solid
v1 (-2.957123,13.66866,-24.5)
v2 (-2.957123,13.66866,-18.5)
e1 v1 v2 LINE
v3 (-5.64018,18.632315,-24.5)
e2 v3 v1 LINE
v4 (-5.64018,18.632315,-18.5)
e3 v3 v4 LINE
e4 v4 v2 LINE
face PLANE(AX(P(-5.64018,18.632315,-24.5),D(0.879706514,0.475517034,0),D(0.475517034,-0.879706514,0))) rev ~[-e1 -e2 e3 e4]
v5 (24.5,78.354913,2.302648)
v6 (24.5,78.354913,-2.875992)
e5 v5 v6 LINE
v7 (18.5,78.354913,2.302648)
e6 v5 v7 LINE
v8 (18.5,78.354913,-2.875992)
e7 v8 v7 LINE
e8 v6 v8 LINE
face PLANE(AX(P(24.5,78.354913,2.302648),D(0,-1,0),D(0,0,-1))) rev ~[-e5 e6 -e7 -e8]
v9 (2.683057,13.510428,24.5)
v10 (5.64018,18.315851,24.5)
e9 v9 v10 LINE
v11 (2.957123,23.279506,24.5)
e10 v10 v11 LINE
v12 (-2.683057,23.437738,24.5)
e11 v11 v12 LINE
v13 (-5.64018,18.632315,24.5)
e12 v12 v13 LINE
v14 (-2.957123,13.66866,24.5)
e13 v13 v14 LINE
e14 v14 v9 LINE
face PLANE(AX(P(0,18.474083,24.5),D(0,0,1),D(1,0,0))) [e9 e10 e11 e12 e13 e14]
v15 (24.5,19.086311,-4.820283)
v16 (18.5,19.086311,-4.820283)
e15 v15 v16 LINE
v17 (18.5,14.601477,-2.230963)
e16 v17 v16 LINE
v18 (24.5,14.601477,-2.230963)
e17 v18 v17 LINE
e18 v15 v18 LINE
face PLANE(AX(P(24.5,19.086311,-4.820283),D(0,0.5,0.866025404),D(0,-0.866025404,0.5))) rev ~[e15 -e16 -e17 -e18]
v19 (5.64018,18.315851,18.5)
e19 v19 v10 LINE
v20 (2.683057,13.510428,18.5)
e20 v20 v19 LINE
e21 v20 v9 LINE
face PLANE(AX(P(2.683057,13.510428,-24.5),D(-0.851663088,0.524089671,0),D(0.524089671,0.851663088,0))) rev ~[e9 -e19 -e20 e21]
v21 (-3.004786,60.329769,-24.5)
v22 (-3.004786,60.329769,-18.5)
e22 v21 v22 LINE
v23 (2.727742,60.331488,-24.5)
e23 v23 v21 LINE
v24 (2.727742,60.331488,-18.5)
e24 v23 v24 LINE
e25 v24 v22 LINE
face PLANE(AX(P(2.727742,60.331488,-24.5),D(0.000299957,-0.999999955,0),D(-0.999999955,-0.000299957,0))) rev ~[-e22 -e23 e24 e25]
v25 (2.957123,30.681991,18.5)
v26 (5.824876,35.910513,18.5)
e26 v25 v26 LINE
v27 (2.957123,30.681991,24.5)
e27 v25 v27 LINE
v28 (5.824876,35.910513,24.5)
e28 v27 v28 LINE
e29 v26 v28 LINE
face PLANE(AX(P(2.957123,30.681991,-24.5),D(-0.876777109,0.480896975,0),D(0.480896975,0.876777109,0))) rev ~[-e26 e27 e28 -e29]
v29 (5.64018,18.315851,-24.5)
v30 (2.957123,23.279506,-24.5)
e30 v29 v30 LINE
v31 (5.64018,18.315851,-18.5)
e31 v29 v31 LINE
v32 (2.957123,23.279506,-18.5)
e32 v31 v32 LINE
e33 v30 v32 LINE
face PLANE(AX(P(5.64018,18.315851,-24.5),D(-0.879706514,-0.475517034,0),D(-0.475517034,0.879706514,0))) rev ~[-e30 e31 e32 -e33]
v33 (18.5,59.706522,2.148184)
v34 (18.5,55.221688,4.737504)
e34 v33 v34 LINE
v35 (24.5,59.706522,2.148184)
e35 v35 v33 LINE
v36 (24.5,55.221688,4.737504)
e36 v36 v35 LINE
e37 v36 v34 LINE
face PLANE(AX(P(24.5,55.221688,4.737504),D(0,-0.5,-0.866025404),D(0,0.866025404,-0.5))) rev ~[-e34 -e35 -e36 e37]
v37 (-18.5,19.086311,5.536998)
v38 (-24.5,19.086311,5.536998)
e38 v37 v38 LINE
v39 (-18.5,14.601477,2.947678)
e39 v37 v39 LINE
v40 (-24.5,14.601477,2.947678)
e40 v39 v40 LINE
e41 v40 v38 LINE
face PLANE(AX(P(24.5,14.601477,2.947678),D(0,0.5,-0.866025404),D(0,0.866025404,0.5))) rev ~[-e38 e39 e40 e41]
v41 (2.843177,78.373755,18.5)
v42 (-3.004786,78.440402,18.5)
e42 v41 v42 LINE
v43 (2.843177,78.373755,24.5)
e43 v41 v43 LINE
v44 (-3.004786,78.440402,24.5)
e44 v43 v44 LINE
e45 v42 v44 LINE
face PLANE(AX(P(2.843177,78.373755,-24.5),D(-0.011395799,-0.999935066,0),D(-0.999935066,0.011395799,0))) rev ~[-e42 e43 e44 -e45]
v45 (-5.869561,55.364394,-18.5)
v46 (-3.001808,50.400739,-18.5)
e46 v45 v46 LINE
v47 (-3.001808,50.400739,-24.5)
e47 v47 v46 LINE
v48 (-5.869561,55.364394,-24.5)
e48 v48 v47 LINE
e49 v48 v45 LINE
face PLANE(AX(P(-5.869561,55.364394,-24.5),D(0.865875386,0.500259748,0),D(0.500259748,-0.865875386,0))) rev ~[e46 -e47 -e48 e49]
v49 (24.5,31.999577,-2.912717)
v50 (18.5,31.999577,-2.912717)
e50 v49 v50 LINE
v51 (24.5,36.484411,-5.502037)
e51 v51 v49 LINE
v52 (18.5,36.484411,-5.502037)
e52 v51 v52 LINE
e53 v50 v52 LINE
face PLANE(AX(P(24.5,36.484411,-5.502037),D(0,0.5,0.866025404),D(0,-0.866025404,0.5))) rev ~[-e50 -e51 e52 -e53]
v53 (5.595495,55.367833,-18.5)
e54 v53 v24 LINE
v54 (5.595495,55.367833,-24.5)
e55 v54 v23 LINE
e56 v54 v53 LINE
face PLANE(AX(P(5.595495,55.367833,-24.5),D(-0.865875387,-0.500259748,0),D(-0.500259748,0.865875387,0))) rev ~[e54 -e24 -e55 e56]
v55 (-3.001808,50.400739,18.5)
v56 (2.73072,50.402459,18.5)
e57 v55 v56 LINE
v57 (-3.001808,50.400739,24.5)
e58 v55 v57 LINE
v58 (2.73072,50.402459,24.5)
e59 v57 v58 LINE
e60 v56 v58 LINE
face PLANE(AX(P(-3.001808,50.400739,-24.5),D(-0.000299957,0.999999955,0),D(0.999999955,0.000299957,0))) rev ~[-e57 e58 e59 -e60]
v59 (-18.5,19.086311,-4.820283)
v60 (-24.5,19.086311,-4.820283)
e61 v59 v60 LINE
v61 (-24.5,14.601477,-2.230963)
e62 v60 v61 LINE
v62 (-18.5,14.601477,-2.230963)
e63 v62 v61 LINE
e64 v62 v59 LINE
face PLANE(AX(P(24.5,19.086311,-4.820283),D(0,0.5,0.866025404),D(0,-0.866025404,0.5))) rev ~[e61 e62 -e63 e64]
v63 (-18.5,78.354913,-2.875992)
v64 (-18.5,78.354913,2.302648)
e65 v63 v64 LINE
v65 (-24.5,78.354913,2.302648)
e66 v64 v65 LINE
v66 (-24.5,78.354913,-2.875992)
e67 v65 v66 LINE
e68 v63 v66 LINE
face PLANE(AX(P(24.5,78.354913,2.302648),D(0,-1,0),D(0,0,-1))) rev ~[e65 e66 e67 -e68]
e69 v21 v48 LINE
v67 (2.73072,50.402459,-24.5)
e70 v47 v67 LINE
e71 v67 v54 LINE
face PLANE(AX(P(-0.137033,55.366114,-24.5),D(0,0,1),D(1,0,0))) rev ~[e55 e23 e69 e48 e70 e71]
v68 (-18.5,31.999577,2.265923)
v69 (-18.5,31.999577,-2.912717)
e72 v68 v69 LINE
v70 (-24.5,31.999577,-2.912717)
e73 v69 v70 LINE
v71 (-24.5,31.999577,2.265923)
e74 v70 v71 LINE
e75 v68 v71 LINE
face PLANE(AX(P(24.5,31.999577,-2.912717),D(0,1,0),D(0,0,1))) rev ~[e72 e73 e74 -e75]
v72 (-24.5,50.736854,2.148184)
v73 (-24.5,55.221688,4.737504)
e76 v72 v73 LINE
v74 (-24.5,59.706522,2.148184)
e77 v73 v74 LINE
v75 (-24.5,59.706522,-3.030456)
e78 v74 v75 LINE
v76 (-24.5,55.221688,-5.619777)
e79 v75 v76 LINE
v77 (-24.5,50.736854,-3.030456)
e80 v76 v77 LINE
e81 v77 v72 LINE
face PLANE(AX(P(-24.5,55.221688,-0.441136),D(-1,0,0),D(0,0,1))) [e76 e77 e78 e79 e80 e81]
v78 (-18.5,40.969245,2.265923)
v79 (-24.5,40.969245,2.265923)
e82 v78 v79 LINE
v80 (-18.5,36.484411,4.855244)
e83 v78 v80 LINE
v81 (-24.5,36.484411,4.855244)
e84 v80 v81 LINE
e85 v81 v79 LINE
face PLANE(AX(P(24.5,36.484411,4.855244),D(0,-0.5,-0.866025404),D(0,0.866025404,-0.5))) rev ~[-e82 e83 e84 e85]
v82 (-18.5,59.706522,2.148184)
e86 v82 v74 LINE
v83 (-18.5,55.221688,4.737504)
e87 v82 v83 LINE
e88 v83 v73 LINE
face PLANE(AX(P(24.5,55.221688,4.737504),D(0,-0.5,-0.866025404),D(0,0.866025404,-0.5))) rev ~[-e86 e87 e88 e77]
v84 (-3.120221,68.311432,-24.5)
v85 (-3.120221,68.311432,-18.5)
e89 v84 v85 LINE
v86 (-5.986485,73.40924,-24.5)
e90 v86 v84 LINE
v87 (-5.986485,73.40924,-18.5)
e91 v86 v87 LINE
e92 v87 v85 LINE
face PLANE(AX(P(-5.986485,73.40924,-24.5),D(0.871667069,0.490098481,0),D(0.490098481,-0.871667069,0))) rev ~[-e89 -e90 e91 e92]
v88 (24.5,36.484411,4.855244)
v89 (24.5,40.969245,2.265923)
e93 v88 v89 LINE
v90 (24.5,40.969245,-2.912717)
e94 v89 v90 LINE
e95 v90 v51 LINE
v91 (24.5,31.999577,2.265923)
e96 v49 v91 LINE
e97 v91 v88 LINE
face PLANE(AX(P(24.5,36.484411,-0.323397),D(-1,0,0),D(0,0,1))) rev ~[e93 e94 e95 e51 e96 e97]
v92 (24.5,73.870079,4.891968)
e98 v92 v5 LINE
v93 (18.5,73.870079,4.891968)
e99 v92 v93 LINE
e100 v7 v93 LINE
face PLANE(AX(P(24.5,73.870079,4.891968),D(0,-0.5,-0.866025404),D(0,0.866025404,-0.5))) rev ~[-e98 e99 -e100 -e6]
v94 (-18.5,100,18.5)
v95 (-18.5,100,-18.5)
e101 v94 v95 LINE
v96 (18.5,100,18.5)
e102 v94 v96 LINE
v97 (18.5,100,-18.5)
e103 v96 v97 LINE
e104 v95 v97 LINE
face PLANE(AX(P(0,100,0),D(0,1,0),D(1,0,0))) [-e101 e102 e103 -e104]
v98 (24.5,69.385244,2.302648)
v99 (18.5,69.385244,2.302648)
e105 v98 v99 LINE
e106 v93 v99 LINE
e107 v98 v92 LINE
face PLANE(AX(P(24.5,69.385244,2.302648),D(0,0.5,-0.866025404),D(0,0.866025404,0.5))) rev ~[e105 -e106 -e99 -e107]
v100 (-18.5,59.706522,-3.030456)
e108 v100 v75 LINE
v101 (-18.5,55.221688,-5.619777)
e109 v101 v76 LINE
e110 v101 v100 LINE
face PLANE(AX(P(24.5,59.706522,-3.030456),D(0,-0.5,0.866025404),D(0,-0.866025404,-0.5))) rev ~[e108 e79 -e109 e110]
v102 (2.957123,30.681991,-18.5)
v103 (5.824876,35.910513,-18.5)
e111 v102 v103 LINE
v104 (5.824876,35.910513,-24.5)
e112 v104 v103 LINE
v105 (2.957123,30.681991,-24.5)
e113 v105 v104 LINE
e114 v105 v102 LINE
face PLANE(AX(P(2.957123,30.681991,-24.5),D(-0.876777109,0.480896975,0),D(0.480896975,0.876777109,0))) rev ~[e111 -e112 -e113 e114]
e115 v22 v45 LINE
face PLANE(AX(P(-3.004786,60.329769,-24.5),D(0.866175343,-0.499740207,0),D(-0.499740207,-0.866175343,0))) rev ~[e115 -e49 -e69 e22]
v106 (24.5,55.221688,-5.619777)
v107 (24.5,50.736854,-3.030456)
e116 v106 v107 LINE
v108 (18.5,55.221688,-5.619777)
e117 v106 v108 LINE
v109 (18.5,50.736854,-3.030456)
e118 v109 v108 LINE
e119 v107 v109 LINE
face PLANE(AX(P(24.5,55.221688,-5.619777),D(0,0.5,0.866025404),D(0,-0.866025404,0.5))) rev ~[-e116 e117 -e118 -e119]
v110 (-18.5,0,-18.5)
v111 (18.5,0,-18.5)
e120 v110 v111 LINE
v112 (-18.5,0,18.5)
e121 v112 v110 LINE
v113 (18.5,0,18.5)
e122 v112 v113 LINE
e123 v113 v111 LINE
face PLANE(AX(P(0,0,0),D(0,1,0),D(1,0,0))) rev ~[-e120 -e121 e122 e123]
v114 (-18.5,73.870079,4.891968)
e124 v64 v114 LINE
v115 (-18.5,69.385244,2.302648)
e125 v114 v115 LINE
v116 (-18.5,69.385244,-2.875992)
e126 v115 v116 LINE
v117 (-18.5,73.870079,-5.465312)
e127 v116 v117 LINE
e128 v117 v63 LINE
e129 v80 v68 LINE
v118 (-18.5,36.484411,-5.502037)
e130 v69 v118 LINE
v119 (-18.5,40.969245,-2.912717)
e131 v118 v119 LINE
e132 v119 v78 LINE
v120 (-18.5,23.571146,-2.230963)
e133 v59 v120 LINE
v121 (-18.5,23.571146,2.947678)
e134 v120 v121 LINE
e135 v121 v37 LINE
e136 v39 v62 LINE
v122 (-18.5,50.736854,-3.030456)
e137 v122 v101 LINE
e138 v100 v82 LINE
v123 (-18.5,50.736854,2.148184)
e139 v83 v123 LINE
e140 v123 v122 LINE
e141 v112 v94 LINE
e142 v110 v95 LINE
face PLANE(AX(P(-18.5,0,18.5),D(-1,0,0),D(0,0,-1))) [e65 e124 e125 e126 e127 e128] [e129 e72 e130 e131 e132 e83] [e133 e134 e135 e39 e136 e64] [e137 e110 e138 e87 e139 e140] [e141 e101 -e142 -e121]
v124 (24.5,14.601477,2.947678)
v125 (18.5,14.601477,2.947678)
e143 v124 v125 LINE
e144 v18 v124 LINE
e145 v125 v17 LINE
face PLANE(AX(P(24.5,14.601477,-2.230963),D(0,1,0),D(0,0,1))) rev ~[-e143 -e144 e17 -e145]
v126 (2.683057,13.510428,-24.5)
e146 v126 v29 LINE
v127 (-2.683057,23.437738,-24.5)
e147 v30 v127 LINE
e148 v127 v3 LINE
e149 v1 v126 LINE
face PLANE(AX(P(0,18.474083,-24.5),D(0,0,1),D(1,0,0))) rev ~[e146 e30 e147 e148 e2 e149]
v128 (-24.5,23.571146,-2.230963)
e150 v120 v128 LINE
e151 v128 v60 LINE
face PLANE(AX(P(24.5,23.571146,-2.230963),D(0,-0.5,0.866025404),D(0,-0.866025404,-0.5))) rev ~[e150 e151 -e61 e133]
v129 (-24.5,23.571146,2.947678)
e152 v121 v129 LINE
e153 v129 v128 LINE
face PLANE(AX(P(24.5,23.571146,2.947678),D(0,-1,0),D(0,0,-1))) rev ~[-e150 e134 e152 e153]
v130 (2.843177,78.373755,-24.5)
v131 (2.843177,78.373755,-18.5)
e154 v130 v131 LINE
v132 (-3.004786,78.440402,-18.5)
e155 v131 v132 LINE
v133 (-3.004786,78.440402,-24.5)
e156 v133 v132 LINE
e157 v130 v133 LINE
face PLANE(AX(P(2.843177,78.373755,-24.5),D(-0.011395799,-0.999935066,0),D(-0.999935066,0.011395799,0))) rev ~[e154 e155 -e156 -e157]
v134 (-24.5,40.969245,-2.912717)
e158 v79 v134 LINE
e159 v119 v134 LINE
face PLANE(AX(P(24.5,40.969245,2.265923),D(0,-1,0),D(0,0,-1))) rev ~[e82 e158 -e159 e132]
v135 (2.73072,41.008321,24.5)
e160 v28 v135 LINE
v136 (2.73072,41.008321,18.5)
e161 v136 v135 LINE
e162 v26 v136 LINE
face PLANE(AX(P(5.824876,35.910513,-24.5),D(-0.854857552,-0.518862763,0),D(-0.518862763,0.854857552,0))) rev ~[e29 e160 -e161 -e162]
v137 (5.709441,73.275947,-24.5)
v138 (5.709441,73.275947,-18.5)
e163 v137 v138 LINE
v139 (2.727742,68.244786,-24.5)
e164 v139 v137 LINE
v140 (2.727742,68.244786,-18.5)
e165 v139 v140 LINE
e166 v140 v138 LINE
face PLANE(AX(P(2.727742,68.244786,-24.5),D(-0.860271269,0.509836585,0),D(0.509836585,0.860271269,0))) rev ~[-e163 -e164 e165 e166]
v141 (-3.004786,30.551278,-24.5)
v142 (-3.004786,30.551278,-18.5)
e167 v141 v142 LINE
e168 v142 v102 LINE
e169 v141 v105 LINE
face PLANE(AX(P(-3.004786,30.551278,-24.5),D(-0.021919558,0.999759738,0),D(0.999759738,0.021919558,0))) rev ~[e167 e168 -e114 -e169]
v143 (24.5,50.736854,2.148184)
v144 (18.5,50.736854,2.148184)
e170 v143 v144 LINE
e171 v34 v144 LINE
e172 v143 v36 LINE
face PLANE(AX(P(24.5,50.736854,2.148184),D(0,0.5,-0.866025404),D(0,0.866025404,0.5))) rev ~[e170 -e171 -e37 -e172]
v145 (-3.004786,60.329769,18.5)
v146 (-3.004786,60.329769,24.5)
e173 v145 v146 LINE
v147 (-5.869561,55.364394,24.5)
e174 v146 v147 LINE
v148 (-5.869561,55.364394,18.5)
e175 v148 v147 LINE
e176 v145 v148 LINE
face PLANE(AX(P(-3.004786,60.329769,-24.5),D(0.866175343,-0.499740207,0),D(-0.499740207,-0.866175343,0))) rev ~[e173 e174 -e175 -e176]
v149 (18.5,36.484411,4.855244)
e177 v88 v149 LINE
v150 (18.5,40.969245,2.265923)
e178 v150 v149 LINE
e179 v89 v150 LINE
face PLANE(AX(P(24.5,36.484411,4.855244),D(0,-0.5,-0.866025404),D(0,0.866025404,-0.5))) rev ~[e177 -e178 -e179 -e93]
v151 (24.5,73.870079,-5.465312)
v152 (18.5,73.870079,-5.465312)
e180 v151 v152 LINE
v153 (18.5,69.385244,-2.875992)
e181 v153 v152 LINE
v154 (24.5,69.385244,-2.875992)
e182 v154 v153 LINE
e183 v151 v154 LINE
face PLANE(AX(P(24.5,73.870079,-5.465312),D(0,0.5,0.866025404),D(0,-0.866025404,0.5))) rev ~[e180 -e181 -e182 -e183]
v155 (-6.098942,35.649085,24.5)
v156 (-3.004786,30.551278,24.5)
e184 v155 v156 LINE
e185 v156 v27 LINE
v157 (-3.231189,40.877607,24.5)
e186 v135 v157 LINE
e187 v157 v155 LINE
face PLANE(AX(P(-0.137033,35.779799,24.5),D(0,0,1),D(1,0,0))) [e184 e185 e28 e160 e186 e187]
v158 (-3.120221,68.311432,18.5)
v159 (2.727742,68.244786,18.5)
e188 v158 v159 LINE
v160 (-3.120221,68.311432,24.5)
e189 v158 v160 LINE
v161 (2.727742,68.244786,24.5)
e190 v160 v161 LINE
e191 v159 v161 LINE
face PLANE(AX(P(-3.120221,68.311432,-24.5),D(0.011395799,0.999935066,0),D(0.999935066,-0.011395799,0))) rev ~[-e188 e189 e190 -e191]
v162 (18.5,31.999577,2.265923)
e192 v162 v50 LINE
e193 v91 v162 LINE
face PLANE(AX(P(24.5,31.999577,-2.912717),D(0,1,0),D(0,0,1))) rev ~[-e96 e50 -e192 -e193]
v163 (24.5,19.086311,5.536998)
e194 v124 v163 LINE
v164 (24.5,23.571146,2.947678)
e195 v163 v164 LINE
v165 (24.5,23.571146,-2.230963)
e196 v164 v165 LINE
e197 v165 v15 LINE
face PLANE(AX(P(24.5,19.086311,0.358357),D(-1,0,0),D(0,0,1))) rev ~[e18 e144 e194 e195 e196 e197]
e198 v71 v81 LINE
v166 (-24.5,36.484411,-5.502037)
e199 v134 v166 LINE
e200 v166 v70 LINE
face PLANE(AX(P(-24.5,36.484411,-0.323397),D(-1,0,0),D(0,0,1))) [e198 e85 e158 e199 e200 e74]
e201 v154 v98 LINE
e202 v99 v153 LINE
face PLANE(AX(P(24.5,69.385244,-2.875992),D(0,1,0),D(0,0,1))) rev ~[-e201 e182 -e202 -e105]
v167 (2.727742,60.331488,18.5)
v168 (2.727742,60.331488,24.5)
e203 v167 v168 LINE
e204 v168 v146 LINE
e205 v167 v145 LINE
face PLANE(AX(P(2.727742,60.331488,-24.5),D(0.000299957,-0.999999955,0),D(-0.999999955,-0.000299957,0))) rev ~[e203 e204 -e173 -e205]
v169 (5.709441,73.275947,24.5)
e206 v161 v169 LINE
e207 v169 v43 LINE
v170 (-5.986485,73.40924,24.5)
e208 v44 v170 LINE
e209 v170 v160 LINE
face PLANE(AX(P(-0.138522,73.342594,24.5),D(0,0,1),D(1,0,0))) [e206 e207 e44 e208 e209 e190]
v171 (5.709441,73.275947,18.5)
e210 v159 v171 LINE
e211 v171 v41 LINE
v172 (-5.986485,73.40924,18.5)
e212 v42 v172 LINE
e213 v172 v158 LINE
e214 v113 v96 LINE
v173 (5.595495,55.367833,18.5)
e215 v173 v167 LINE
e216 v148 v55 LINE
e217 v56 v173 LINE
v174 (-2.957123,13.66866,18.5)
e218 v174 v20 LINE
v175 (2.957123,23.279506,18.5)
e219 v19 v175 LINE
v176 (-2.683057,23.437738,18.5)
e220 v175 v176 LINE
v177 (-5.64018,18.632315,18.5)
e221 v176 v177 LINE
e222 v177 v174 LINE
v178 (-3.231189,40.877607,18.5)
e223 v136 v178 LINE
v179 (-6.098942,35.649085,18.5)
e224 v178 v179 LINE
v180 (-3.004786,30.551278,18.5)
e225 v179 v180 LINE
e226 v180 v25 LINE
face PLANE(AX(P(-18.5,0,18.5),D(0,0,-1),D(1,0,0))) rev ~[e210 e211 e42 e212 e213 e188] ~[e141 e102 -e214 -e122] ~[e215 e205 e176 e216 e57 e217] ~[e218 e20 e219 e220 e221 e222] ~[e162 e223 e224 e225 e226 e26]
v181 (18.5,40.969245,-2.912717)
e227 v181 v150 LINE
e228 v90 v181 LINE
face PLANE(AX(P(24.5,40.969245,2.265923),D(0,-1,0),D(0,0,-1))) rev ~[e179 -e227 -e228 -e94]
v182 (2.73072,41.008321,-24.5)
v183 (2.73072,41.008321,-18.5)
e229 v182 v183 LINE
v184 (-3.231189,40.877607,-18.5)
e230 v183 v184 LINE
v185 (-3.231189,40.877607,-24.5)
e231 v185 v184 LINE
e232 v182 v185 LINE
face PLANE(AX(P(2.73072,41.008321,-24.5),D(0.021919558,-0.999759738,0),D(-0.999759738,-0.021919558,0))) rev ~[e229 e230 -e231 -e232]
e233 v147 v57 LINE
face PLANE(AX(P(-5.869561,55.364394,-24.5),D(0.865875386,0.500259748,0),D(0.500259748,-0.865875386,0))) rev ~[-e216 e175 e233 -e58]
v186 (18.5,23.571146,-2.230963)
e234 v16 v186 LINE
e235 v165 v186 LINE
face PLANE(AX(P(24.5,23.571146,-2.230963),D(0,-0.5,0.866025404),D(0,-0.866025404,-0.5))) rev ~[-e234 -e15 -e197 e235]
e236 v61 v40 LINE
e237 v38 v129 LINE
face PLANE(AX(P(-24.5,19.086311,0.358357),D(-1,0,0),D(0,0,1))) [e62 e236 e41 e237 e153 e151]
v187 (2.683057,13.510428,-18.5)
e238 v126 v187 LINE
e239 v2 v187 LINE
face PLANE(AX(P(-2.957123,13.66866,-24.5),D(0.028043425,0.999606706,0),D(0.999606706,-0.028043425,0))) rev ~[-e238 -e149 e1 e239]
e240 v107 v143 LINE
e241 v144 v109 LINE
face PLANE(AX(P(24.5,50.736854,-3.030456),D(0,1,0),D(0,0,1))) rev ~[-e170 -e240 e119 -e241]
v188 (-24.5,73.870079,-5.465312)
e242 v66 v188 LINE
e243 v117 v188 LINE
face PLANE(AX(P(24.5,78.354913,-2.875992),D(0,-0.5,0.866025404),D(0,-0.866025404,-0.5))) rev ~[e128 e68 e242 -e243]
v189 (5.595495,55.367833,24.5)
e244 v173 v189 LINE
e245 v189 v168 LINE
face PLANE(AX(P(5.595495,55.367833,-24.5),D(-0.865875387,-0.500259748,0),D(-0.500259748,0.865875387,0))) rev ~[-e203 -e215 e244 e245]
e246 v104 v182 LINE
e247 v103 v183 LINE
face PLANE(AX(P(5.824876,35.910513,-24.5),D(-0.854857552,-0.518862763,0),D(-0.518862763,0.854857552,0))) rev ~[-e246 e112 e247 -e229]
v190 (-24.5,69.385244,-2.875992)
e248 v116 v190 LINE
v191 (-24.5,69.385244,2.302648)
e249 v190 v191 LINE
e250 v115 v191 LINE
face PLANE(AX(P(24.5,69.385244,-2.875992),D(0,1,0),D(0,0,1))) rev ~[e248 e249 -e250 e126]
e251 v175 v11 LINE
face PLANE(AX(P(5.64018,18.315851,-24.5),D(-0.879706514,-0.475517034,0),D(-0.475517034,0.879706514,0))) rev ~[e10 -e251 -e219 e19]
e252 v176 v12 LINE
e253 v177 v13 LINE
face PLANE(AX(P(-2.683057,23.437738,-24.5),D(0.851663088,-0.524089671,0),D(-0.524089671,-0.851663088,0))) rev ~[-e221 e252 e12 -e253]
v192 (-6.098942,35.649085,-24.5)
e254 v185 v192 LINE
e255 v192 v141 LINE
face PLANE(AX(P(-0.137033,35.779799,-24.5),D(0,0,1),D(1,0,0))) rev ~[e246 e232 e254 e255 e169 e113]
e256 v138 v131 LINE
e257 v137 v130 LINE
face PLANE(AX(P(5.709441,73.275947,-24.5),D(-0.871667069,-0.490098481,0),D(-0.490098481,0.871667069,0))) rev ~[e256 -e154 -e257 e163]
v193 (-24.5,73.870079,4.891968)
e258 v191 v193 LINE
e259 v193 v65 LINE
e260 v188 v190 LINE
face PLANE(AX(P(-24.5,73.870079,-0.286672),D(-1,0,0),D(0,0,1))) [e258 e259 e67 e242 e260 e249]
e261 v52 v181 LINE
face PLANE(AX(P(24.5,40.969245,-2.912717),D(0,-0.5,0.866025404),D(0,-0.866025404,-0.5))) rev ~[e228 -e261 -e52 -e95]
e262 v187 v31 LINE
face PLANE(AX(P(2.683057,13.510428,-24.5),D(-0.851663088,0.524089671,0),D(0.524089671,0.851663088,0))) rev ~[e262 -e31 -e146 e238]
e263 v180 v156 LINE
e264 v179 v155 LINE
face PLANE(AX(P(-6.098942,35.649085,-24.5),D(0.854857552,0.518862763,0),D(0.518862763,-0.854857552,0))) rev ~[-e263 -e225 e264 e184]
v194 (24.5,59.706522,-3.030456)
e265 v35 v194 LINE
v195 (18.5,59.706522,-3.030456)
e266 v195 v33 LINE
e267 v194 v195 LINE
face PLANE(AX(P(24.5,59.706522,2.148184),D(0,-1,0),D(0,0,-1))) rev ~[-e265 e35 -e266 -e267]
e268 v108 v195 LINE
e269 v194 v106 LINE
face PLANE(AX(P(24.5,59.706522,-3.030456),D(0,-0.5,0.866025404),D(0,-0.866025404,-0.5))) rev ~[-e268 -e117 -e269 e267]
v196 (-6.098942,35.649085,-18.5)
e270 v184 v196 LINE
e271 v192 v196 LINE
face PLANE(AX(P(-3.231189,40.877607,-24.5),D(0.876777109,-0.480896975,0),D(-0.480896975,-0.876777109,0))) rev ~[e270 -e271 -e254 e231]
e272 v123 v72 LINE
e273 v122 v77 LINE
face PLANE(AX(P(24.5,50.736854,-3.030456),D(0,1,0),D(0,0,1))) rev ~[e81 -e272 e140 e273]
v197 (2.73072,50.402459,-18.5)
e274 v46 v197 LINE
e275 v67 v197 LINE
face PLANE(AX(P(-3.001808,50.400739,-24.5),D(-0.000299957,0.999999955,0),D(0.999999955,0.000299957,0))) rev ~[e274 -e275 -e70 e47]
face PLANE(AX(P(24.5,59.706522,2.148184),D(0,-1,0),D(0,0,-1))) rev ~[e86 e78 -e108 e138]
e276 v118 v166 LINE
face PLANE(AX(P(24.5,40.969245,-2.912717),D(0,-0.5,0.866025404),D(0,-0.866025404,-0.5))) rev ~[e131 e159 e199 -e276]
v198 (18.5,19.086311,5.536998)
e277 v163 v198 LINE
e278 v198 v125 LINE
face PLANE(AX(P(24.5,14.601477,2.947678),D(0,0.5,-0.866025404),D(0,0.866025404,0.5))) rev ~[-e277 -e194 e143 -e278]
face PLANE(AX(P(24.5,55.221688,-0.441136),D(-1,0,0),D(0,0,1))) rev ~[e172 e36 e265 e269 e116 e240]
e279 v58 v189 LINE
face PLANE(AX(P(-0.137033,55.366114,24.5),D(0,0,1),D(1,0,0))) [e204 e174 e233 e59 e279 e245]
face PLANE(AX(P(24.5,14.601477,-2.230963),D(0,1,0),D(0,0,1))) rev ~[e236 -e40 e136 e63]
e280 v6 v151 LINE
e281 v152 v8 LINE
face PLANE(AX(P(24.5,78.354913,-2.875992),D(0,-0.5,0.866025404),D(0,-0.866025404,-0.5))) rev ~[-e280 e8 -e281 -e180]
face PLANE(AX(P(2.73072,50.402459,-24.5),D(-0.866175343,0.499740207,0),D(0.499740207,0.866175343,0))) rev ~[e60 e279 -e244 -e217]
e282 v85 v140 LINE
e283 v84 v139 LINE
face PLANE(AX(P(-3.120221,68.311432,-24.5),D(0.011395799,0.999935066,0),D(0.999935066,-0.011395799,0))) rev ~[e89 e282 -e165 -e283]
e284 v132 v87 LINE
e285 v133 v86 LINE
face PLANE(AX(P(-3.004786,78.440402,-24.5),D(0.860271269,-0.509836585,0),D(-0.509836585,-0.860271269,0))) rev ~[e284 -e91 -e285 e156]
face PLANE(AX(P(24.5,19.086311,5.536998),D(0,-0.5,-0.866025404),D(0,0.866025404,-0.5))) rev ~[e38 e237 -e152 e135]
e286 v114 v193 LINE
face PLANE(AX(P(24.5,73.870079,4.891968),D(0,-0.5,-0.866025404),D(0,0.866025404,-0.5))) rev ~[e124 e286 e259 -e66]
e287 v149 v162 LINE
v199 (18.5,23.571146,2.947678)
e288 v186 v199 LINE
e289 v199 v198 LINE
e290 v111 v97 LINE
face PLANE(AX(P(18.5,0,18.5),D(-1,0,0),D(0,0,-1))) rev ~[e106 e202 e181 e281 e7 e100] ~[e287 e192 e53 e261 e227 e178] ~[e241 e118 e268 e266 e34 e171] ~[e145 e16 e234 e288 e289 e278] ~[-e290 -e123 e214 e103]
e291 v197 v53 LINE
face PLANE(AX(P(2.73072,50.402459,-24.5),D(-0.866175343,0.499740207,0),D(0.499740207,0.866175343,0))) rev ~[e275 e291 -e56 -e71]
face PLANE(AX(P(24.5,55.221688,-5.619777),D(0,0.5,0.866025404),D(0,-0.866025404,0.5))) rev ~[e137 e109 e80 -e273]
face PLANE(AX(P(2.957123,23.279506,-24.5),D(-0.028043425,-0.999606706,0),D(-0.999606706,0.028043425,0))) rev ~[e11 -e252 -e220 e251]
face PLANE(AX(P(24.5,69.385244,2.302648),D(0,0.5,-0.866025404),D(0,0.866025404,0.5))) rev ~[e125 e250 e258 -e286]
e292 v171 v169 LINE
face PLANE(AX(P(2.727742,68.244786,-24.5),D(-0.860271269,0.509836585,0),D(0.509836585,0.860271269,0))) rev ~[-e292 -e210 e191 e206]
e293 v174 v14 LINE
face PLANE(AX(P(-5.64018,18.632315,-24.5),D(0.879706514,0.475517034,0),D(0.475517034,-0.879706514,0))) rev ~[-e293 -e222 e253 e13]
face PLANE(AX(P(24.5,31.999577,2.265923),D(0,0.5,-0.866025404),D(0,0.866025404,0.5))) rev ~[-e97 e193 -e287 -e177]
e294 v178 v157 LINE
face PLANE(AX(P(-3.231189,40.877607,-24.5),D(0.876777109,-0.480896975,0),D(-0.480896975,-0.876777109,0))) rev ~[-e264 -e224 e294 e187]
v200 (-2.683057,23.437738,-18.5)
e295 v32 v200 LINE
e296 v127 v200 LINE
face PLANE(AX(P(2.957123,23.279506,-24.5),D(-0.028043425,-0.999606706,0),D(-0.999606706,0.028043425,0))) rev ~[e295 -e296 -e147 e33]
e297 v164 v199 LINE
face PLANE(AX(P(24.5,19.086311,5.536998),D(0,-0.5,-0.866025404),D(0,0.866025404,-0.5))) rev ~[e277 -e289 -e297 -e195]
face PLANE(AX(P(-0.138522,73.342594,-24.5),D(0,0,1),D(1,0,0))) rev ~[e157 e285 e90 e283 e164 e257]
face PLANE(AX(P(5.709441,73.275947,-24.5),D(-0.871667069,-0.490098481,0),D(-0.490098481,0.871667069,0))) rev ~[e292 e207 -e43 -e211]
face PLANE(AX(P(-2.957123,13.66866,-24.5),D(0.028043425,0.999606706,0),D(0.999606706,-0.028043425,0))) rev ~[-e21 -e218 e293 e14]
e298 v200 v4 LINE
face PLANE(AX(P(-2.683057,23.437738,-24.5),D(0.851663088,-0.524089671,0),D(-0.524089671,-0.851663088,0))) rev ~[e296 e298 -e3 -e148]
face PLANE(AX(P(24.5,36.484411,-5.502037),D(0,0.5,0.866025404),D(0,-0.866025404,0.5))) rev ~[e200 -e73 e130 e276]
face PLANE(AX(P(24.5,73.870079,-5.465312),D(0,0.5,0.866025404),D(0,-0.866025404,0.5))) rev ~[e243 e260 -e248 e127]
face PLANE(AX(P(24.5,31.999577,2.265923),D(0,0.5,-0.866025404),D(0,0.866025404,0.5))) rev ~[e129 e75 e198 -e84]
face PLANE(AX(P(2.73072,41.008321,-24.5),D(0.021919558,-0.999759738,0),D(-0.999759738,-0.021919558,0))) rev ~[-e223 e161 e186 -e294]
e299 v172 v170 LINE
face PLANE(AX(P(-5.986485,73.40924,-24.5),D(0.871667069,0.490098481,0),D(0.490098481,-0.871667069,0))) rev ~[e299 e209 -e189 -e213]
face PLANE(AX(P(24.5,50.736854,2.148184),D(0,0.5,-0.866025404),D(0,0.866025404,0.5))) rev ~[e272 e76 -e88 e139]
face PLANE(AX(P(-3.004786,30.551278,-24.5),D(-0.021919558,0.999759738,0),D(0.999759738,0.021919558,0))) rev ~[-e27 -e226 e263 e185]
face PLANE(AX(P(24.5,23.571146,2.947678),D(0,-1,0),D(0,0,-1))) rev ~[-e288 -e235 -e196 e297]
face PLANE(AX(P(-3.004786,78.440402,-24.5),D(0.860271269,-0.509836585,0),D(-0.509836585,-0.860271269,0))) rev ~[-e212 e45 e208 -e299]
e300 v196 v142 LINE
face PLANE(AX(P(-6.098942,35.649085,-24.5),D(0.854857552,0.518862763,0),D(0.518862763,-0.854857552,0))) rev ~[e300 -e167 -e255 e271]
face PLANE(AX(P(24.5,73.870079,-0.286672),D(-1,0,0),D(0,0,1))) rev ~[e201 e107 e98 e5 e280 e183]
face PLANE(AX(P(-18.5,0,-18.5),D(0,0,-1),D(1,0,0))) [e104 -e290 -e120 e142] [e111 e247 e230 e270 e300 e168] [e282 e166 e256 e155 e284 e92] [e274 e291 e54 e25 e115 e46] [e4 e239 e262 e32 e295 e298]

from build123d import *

# Parameters (mm, degrees)
SKETCH1_W                = 37
SKETCH1_H                = 37
BOSS_EXTRUDE1_DEPTH      = 100
BOSS_EXTRUDE2_DEPTH      = 6
BOSS_EXTRUDE2_DEPTH_BACK = 43
BOSS_EXTRUDE3_DEPTH      = 6
BOSS_EXTRUDE3_DEPTH_BACK = 43


with BuildPart() as part:
    # Sketch1 → Boss-Extrude1 (new body)
    with BuildSketch(Plane(origin=(0, 0, 0), x_dir=(1, 0, 0), z_dir=(0, 1, 0))):
        Rectangle(SKETCH1_W, SKETCH1_H)
    extrude(amount=BOSS_EXTRUDE1_DEPTH)

    # Sketch2 → Boss-Extrude2 (add, two sides: drawn at the far end of the back side and taken through both)
    with BuildSketch(Plane.ZY.offset(18.5).offset(-BOSS_EXTRUDE2_DEPTH_BACK)):
        Polygon((2.947677665, 14.601477232), (5.53699788, 19.086311402), (2.947677665, 23.571145571), (-2.230962765, 23.571145571), (-4.82028298, 19.086311402), (-2.230962765, 14.601477232), align=None)
        Polygon((2.265923415, 31.999576723), (4.85524363, 36.484410892), (2.265923415, 40.969245062), (-2.912717015, 40.969245062), (-5.50203723, 36.484410892), (-2.912717015, 31.999576723), align=None)
        Polygon((2.148184021, 50.736854031), (4.737504236, 55.221688201), (2.148184021, 59.70652237), (-3.030456409, 59.70652237), (-5.619776624, 55.221688201), (-3.030456409, 50.736854031), align=None)
        Polygon((2.302648162, 69.385244476), (4.891968377, 73.870078646), (2.302648162, 78.354912815), (-2.875992268, 78.354912815), (-5.465312483, 73.870078646), (-2.875992268, 69.385244476), align=None)
    extrude(amount=BOSS_EXTRUDE2_DEPTH + BOSS_EXTRUDE2_DEPTH_BACK)

    # Sketch3 → Boss-Extrude3 (add, two sides: drawn at the far end of the back side and taken through both)
    with BuildSketch(Plane.XY.offset(18.5).offset(-BOSS_EXTRUDE3_DEPTH_BACK)):
        Polygon((2.683056757, 13.510428104), (5.640179705, 18.315850916), (2.957122948, 23.279505916), (-2.683056757, 23.437738105), (-5.640179705, 18.632315293), (-2.957122948, 13.668660293), align=None)
        Polygon((2.957122948, 30.681991349), (5.824876018, 35.910513005), (2.730719975, 41.008320843), (-3.231189138, 40.877607026), (-6.098942208, 35.64908537), (-3.004786166, 30.551277532), align=None)
        Polygon((2.730719975, 50.402458514), (5.595494766, 55.367833024), (2.727741696, 60.331488025), (-3.004786166, 60.329768515), (-5.869560957, 55.364394004), (-3.001807886, 50.400739003), align=None)
        Polygon((2.727741696, 68.244785948), (5.709440822, 73.275947245), (2.843176891, 78.373755084), (-3.004786166, 78.440401625), (-5.986485292, 73.409240328), (-3.120221361, 68.311432489), align=None)
    extrude(amount=BOSS_EXTRUDE3_DEPTH + BOSS_EXTRUDE3_DEPTH_BACK)


solid = part.part
